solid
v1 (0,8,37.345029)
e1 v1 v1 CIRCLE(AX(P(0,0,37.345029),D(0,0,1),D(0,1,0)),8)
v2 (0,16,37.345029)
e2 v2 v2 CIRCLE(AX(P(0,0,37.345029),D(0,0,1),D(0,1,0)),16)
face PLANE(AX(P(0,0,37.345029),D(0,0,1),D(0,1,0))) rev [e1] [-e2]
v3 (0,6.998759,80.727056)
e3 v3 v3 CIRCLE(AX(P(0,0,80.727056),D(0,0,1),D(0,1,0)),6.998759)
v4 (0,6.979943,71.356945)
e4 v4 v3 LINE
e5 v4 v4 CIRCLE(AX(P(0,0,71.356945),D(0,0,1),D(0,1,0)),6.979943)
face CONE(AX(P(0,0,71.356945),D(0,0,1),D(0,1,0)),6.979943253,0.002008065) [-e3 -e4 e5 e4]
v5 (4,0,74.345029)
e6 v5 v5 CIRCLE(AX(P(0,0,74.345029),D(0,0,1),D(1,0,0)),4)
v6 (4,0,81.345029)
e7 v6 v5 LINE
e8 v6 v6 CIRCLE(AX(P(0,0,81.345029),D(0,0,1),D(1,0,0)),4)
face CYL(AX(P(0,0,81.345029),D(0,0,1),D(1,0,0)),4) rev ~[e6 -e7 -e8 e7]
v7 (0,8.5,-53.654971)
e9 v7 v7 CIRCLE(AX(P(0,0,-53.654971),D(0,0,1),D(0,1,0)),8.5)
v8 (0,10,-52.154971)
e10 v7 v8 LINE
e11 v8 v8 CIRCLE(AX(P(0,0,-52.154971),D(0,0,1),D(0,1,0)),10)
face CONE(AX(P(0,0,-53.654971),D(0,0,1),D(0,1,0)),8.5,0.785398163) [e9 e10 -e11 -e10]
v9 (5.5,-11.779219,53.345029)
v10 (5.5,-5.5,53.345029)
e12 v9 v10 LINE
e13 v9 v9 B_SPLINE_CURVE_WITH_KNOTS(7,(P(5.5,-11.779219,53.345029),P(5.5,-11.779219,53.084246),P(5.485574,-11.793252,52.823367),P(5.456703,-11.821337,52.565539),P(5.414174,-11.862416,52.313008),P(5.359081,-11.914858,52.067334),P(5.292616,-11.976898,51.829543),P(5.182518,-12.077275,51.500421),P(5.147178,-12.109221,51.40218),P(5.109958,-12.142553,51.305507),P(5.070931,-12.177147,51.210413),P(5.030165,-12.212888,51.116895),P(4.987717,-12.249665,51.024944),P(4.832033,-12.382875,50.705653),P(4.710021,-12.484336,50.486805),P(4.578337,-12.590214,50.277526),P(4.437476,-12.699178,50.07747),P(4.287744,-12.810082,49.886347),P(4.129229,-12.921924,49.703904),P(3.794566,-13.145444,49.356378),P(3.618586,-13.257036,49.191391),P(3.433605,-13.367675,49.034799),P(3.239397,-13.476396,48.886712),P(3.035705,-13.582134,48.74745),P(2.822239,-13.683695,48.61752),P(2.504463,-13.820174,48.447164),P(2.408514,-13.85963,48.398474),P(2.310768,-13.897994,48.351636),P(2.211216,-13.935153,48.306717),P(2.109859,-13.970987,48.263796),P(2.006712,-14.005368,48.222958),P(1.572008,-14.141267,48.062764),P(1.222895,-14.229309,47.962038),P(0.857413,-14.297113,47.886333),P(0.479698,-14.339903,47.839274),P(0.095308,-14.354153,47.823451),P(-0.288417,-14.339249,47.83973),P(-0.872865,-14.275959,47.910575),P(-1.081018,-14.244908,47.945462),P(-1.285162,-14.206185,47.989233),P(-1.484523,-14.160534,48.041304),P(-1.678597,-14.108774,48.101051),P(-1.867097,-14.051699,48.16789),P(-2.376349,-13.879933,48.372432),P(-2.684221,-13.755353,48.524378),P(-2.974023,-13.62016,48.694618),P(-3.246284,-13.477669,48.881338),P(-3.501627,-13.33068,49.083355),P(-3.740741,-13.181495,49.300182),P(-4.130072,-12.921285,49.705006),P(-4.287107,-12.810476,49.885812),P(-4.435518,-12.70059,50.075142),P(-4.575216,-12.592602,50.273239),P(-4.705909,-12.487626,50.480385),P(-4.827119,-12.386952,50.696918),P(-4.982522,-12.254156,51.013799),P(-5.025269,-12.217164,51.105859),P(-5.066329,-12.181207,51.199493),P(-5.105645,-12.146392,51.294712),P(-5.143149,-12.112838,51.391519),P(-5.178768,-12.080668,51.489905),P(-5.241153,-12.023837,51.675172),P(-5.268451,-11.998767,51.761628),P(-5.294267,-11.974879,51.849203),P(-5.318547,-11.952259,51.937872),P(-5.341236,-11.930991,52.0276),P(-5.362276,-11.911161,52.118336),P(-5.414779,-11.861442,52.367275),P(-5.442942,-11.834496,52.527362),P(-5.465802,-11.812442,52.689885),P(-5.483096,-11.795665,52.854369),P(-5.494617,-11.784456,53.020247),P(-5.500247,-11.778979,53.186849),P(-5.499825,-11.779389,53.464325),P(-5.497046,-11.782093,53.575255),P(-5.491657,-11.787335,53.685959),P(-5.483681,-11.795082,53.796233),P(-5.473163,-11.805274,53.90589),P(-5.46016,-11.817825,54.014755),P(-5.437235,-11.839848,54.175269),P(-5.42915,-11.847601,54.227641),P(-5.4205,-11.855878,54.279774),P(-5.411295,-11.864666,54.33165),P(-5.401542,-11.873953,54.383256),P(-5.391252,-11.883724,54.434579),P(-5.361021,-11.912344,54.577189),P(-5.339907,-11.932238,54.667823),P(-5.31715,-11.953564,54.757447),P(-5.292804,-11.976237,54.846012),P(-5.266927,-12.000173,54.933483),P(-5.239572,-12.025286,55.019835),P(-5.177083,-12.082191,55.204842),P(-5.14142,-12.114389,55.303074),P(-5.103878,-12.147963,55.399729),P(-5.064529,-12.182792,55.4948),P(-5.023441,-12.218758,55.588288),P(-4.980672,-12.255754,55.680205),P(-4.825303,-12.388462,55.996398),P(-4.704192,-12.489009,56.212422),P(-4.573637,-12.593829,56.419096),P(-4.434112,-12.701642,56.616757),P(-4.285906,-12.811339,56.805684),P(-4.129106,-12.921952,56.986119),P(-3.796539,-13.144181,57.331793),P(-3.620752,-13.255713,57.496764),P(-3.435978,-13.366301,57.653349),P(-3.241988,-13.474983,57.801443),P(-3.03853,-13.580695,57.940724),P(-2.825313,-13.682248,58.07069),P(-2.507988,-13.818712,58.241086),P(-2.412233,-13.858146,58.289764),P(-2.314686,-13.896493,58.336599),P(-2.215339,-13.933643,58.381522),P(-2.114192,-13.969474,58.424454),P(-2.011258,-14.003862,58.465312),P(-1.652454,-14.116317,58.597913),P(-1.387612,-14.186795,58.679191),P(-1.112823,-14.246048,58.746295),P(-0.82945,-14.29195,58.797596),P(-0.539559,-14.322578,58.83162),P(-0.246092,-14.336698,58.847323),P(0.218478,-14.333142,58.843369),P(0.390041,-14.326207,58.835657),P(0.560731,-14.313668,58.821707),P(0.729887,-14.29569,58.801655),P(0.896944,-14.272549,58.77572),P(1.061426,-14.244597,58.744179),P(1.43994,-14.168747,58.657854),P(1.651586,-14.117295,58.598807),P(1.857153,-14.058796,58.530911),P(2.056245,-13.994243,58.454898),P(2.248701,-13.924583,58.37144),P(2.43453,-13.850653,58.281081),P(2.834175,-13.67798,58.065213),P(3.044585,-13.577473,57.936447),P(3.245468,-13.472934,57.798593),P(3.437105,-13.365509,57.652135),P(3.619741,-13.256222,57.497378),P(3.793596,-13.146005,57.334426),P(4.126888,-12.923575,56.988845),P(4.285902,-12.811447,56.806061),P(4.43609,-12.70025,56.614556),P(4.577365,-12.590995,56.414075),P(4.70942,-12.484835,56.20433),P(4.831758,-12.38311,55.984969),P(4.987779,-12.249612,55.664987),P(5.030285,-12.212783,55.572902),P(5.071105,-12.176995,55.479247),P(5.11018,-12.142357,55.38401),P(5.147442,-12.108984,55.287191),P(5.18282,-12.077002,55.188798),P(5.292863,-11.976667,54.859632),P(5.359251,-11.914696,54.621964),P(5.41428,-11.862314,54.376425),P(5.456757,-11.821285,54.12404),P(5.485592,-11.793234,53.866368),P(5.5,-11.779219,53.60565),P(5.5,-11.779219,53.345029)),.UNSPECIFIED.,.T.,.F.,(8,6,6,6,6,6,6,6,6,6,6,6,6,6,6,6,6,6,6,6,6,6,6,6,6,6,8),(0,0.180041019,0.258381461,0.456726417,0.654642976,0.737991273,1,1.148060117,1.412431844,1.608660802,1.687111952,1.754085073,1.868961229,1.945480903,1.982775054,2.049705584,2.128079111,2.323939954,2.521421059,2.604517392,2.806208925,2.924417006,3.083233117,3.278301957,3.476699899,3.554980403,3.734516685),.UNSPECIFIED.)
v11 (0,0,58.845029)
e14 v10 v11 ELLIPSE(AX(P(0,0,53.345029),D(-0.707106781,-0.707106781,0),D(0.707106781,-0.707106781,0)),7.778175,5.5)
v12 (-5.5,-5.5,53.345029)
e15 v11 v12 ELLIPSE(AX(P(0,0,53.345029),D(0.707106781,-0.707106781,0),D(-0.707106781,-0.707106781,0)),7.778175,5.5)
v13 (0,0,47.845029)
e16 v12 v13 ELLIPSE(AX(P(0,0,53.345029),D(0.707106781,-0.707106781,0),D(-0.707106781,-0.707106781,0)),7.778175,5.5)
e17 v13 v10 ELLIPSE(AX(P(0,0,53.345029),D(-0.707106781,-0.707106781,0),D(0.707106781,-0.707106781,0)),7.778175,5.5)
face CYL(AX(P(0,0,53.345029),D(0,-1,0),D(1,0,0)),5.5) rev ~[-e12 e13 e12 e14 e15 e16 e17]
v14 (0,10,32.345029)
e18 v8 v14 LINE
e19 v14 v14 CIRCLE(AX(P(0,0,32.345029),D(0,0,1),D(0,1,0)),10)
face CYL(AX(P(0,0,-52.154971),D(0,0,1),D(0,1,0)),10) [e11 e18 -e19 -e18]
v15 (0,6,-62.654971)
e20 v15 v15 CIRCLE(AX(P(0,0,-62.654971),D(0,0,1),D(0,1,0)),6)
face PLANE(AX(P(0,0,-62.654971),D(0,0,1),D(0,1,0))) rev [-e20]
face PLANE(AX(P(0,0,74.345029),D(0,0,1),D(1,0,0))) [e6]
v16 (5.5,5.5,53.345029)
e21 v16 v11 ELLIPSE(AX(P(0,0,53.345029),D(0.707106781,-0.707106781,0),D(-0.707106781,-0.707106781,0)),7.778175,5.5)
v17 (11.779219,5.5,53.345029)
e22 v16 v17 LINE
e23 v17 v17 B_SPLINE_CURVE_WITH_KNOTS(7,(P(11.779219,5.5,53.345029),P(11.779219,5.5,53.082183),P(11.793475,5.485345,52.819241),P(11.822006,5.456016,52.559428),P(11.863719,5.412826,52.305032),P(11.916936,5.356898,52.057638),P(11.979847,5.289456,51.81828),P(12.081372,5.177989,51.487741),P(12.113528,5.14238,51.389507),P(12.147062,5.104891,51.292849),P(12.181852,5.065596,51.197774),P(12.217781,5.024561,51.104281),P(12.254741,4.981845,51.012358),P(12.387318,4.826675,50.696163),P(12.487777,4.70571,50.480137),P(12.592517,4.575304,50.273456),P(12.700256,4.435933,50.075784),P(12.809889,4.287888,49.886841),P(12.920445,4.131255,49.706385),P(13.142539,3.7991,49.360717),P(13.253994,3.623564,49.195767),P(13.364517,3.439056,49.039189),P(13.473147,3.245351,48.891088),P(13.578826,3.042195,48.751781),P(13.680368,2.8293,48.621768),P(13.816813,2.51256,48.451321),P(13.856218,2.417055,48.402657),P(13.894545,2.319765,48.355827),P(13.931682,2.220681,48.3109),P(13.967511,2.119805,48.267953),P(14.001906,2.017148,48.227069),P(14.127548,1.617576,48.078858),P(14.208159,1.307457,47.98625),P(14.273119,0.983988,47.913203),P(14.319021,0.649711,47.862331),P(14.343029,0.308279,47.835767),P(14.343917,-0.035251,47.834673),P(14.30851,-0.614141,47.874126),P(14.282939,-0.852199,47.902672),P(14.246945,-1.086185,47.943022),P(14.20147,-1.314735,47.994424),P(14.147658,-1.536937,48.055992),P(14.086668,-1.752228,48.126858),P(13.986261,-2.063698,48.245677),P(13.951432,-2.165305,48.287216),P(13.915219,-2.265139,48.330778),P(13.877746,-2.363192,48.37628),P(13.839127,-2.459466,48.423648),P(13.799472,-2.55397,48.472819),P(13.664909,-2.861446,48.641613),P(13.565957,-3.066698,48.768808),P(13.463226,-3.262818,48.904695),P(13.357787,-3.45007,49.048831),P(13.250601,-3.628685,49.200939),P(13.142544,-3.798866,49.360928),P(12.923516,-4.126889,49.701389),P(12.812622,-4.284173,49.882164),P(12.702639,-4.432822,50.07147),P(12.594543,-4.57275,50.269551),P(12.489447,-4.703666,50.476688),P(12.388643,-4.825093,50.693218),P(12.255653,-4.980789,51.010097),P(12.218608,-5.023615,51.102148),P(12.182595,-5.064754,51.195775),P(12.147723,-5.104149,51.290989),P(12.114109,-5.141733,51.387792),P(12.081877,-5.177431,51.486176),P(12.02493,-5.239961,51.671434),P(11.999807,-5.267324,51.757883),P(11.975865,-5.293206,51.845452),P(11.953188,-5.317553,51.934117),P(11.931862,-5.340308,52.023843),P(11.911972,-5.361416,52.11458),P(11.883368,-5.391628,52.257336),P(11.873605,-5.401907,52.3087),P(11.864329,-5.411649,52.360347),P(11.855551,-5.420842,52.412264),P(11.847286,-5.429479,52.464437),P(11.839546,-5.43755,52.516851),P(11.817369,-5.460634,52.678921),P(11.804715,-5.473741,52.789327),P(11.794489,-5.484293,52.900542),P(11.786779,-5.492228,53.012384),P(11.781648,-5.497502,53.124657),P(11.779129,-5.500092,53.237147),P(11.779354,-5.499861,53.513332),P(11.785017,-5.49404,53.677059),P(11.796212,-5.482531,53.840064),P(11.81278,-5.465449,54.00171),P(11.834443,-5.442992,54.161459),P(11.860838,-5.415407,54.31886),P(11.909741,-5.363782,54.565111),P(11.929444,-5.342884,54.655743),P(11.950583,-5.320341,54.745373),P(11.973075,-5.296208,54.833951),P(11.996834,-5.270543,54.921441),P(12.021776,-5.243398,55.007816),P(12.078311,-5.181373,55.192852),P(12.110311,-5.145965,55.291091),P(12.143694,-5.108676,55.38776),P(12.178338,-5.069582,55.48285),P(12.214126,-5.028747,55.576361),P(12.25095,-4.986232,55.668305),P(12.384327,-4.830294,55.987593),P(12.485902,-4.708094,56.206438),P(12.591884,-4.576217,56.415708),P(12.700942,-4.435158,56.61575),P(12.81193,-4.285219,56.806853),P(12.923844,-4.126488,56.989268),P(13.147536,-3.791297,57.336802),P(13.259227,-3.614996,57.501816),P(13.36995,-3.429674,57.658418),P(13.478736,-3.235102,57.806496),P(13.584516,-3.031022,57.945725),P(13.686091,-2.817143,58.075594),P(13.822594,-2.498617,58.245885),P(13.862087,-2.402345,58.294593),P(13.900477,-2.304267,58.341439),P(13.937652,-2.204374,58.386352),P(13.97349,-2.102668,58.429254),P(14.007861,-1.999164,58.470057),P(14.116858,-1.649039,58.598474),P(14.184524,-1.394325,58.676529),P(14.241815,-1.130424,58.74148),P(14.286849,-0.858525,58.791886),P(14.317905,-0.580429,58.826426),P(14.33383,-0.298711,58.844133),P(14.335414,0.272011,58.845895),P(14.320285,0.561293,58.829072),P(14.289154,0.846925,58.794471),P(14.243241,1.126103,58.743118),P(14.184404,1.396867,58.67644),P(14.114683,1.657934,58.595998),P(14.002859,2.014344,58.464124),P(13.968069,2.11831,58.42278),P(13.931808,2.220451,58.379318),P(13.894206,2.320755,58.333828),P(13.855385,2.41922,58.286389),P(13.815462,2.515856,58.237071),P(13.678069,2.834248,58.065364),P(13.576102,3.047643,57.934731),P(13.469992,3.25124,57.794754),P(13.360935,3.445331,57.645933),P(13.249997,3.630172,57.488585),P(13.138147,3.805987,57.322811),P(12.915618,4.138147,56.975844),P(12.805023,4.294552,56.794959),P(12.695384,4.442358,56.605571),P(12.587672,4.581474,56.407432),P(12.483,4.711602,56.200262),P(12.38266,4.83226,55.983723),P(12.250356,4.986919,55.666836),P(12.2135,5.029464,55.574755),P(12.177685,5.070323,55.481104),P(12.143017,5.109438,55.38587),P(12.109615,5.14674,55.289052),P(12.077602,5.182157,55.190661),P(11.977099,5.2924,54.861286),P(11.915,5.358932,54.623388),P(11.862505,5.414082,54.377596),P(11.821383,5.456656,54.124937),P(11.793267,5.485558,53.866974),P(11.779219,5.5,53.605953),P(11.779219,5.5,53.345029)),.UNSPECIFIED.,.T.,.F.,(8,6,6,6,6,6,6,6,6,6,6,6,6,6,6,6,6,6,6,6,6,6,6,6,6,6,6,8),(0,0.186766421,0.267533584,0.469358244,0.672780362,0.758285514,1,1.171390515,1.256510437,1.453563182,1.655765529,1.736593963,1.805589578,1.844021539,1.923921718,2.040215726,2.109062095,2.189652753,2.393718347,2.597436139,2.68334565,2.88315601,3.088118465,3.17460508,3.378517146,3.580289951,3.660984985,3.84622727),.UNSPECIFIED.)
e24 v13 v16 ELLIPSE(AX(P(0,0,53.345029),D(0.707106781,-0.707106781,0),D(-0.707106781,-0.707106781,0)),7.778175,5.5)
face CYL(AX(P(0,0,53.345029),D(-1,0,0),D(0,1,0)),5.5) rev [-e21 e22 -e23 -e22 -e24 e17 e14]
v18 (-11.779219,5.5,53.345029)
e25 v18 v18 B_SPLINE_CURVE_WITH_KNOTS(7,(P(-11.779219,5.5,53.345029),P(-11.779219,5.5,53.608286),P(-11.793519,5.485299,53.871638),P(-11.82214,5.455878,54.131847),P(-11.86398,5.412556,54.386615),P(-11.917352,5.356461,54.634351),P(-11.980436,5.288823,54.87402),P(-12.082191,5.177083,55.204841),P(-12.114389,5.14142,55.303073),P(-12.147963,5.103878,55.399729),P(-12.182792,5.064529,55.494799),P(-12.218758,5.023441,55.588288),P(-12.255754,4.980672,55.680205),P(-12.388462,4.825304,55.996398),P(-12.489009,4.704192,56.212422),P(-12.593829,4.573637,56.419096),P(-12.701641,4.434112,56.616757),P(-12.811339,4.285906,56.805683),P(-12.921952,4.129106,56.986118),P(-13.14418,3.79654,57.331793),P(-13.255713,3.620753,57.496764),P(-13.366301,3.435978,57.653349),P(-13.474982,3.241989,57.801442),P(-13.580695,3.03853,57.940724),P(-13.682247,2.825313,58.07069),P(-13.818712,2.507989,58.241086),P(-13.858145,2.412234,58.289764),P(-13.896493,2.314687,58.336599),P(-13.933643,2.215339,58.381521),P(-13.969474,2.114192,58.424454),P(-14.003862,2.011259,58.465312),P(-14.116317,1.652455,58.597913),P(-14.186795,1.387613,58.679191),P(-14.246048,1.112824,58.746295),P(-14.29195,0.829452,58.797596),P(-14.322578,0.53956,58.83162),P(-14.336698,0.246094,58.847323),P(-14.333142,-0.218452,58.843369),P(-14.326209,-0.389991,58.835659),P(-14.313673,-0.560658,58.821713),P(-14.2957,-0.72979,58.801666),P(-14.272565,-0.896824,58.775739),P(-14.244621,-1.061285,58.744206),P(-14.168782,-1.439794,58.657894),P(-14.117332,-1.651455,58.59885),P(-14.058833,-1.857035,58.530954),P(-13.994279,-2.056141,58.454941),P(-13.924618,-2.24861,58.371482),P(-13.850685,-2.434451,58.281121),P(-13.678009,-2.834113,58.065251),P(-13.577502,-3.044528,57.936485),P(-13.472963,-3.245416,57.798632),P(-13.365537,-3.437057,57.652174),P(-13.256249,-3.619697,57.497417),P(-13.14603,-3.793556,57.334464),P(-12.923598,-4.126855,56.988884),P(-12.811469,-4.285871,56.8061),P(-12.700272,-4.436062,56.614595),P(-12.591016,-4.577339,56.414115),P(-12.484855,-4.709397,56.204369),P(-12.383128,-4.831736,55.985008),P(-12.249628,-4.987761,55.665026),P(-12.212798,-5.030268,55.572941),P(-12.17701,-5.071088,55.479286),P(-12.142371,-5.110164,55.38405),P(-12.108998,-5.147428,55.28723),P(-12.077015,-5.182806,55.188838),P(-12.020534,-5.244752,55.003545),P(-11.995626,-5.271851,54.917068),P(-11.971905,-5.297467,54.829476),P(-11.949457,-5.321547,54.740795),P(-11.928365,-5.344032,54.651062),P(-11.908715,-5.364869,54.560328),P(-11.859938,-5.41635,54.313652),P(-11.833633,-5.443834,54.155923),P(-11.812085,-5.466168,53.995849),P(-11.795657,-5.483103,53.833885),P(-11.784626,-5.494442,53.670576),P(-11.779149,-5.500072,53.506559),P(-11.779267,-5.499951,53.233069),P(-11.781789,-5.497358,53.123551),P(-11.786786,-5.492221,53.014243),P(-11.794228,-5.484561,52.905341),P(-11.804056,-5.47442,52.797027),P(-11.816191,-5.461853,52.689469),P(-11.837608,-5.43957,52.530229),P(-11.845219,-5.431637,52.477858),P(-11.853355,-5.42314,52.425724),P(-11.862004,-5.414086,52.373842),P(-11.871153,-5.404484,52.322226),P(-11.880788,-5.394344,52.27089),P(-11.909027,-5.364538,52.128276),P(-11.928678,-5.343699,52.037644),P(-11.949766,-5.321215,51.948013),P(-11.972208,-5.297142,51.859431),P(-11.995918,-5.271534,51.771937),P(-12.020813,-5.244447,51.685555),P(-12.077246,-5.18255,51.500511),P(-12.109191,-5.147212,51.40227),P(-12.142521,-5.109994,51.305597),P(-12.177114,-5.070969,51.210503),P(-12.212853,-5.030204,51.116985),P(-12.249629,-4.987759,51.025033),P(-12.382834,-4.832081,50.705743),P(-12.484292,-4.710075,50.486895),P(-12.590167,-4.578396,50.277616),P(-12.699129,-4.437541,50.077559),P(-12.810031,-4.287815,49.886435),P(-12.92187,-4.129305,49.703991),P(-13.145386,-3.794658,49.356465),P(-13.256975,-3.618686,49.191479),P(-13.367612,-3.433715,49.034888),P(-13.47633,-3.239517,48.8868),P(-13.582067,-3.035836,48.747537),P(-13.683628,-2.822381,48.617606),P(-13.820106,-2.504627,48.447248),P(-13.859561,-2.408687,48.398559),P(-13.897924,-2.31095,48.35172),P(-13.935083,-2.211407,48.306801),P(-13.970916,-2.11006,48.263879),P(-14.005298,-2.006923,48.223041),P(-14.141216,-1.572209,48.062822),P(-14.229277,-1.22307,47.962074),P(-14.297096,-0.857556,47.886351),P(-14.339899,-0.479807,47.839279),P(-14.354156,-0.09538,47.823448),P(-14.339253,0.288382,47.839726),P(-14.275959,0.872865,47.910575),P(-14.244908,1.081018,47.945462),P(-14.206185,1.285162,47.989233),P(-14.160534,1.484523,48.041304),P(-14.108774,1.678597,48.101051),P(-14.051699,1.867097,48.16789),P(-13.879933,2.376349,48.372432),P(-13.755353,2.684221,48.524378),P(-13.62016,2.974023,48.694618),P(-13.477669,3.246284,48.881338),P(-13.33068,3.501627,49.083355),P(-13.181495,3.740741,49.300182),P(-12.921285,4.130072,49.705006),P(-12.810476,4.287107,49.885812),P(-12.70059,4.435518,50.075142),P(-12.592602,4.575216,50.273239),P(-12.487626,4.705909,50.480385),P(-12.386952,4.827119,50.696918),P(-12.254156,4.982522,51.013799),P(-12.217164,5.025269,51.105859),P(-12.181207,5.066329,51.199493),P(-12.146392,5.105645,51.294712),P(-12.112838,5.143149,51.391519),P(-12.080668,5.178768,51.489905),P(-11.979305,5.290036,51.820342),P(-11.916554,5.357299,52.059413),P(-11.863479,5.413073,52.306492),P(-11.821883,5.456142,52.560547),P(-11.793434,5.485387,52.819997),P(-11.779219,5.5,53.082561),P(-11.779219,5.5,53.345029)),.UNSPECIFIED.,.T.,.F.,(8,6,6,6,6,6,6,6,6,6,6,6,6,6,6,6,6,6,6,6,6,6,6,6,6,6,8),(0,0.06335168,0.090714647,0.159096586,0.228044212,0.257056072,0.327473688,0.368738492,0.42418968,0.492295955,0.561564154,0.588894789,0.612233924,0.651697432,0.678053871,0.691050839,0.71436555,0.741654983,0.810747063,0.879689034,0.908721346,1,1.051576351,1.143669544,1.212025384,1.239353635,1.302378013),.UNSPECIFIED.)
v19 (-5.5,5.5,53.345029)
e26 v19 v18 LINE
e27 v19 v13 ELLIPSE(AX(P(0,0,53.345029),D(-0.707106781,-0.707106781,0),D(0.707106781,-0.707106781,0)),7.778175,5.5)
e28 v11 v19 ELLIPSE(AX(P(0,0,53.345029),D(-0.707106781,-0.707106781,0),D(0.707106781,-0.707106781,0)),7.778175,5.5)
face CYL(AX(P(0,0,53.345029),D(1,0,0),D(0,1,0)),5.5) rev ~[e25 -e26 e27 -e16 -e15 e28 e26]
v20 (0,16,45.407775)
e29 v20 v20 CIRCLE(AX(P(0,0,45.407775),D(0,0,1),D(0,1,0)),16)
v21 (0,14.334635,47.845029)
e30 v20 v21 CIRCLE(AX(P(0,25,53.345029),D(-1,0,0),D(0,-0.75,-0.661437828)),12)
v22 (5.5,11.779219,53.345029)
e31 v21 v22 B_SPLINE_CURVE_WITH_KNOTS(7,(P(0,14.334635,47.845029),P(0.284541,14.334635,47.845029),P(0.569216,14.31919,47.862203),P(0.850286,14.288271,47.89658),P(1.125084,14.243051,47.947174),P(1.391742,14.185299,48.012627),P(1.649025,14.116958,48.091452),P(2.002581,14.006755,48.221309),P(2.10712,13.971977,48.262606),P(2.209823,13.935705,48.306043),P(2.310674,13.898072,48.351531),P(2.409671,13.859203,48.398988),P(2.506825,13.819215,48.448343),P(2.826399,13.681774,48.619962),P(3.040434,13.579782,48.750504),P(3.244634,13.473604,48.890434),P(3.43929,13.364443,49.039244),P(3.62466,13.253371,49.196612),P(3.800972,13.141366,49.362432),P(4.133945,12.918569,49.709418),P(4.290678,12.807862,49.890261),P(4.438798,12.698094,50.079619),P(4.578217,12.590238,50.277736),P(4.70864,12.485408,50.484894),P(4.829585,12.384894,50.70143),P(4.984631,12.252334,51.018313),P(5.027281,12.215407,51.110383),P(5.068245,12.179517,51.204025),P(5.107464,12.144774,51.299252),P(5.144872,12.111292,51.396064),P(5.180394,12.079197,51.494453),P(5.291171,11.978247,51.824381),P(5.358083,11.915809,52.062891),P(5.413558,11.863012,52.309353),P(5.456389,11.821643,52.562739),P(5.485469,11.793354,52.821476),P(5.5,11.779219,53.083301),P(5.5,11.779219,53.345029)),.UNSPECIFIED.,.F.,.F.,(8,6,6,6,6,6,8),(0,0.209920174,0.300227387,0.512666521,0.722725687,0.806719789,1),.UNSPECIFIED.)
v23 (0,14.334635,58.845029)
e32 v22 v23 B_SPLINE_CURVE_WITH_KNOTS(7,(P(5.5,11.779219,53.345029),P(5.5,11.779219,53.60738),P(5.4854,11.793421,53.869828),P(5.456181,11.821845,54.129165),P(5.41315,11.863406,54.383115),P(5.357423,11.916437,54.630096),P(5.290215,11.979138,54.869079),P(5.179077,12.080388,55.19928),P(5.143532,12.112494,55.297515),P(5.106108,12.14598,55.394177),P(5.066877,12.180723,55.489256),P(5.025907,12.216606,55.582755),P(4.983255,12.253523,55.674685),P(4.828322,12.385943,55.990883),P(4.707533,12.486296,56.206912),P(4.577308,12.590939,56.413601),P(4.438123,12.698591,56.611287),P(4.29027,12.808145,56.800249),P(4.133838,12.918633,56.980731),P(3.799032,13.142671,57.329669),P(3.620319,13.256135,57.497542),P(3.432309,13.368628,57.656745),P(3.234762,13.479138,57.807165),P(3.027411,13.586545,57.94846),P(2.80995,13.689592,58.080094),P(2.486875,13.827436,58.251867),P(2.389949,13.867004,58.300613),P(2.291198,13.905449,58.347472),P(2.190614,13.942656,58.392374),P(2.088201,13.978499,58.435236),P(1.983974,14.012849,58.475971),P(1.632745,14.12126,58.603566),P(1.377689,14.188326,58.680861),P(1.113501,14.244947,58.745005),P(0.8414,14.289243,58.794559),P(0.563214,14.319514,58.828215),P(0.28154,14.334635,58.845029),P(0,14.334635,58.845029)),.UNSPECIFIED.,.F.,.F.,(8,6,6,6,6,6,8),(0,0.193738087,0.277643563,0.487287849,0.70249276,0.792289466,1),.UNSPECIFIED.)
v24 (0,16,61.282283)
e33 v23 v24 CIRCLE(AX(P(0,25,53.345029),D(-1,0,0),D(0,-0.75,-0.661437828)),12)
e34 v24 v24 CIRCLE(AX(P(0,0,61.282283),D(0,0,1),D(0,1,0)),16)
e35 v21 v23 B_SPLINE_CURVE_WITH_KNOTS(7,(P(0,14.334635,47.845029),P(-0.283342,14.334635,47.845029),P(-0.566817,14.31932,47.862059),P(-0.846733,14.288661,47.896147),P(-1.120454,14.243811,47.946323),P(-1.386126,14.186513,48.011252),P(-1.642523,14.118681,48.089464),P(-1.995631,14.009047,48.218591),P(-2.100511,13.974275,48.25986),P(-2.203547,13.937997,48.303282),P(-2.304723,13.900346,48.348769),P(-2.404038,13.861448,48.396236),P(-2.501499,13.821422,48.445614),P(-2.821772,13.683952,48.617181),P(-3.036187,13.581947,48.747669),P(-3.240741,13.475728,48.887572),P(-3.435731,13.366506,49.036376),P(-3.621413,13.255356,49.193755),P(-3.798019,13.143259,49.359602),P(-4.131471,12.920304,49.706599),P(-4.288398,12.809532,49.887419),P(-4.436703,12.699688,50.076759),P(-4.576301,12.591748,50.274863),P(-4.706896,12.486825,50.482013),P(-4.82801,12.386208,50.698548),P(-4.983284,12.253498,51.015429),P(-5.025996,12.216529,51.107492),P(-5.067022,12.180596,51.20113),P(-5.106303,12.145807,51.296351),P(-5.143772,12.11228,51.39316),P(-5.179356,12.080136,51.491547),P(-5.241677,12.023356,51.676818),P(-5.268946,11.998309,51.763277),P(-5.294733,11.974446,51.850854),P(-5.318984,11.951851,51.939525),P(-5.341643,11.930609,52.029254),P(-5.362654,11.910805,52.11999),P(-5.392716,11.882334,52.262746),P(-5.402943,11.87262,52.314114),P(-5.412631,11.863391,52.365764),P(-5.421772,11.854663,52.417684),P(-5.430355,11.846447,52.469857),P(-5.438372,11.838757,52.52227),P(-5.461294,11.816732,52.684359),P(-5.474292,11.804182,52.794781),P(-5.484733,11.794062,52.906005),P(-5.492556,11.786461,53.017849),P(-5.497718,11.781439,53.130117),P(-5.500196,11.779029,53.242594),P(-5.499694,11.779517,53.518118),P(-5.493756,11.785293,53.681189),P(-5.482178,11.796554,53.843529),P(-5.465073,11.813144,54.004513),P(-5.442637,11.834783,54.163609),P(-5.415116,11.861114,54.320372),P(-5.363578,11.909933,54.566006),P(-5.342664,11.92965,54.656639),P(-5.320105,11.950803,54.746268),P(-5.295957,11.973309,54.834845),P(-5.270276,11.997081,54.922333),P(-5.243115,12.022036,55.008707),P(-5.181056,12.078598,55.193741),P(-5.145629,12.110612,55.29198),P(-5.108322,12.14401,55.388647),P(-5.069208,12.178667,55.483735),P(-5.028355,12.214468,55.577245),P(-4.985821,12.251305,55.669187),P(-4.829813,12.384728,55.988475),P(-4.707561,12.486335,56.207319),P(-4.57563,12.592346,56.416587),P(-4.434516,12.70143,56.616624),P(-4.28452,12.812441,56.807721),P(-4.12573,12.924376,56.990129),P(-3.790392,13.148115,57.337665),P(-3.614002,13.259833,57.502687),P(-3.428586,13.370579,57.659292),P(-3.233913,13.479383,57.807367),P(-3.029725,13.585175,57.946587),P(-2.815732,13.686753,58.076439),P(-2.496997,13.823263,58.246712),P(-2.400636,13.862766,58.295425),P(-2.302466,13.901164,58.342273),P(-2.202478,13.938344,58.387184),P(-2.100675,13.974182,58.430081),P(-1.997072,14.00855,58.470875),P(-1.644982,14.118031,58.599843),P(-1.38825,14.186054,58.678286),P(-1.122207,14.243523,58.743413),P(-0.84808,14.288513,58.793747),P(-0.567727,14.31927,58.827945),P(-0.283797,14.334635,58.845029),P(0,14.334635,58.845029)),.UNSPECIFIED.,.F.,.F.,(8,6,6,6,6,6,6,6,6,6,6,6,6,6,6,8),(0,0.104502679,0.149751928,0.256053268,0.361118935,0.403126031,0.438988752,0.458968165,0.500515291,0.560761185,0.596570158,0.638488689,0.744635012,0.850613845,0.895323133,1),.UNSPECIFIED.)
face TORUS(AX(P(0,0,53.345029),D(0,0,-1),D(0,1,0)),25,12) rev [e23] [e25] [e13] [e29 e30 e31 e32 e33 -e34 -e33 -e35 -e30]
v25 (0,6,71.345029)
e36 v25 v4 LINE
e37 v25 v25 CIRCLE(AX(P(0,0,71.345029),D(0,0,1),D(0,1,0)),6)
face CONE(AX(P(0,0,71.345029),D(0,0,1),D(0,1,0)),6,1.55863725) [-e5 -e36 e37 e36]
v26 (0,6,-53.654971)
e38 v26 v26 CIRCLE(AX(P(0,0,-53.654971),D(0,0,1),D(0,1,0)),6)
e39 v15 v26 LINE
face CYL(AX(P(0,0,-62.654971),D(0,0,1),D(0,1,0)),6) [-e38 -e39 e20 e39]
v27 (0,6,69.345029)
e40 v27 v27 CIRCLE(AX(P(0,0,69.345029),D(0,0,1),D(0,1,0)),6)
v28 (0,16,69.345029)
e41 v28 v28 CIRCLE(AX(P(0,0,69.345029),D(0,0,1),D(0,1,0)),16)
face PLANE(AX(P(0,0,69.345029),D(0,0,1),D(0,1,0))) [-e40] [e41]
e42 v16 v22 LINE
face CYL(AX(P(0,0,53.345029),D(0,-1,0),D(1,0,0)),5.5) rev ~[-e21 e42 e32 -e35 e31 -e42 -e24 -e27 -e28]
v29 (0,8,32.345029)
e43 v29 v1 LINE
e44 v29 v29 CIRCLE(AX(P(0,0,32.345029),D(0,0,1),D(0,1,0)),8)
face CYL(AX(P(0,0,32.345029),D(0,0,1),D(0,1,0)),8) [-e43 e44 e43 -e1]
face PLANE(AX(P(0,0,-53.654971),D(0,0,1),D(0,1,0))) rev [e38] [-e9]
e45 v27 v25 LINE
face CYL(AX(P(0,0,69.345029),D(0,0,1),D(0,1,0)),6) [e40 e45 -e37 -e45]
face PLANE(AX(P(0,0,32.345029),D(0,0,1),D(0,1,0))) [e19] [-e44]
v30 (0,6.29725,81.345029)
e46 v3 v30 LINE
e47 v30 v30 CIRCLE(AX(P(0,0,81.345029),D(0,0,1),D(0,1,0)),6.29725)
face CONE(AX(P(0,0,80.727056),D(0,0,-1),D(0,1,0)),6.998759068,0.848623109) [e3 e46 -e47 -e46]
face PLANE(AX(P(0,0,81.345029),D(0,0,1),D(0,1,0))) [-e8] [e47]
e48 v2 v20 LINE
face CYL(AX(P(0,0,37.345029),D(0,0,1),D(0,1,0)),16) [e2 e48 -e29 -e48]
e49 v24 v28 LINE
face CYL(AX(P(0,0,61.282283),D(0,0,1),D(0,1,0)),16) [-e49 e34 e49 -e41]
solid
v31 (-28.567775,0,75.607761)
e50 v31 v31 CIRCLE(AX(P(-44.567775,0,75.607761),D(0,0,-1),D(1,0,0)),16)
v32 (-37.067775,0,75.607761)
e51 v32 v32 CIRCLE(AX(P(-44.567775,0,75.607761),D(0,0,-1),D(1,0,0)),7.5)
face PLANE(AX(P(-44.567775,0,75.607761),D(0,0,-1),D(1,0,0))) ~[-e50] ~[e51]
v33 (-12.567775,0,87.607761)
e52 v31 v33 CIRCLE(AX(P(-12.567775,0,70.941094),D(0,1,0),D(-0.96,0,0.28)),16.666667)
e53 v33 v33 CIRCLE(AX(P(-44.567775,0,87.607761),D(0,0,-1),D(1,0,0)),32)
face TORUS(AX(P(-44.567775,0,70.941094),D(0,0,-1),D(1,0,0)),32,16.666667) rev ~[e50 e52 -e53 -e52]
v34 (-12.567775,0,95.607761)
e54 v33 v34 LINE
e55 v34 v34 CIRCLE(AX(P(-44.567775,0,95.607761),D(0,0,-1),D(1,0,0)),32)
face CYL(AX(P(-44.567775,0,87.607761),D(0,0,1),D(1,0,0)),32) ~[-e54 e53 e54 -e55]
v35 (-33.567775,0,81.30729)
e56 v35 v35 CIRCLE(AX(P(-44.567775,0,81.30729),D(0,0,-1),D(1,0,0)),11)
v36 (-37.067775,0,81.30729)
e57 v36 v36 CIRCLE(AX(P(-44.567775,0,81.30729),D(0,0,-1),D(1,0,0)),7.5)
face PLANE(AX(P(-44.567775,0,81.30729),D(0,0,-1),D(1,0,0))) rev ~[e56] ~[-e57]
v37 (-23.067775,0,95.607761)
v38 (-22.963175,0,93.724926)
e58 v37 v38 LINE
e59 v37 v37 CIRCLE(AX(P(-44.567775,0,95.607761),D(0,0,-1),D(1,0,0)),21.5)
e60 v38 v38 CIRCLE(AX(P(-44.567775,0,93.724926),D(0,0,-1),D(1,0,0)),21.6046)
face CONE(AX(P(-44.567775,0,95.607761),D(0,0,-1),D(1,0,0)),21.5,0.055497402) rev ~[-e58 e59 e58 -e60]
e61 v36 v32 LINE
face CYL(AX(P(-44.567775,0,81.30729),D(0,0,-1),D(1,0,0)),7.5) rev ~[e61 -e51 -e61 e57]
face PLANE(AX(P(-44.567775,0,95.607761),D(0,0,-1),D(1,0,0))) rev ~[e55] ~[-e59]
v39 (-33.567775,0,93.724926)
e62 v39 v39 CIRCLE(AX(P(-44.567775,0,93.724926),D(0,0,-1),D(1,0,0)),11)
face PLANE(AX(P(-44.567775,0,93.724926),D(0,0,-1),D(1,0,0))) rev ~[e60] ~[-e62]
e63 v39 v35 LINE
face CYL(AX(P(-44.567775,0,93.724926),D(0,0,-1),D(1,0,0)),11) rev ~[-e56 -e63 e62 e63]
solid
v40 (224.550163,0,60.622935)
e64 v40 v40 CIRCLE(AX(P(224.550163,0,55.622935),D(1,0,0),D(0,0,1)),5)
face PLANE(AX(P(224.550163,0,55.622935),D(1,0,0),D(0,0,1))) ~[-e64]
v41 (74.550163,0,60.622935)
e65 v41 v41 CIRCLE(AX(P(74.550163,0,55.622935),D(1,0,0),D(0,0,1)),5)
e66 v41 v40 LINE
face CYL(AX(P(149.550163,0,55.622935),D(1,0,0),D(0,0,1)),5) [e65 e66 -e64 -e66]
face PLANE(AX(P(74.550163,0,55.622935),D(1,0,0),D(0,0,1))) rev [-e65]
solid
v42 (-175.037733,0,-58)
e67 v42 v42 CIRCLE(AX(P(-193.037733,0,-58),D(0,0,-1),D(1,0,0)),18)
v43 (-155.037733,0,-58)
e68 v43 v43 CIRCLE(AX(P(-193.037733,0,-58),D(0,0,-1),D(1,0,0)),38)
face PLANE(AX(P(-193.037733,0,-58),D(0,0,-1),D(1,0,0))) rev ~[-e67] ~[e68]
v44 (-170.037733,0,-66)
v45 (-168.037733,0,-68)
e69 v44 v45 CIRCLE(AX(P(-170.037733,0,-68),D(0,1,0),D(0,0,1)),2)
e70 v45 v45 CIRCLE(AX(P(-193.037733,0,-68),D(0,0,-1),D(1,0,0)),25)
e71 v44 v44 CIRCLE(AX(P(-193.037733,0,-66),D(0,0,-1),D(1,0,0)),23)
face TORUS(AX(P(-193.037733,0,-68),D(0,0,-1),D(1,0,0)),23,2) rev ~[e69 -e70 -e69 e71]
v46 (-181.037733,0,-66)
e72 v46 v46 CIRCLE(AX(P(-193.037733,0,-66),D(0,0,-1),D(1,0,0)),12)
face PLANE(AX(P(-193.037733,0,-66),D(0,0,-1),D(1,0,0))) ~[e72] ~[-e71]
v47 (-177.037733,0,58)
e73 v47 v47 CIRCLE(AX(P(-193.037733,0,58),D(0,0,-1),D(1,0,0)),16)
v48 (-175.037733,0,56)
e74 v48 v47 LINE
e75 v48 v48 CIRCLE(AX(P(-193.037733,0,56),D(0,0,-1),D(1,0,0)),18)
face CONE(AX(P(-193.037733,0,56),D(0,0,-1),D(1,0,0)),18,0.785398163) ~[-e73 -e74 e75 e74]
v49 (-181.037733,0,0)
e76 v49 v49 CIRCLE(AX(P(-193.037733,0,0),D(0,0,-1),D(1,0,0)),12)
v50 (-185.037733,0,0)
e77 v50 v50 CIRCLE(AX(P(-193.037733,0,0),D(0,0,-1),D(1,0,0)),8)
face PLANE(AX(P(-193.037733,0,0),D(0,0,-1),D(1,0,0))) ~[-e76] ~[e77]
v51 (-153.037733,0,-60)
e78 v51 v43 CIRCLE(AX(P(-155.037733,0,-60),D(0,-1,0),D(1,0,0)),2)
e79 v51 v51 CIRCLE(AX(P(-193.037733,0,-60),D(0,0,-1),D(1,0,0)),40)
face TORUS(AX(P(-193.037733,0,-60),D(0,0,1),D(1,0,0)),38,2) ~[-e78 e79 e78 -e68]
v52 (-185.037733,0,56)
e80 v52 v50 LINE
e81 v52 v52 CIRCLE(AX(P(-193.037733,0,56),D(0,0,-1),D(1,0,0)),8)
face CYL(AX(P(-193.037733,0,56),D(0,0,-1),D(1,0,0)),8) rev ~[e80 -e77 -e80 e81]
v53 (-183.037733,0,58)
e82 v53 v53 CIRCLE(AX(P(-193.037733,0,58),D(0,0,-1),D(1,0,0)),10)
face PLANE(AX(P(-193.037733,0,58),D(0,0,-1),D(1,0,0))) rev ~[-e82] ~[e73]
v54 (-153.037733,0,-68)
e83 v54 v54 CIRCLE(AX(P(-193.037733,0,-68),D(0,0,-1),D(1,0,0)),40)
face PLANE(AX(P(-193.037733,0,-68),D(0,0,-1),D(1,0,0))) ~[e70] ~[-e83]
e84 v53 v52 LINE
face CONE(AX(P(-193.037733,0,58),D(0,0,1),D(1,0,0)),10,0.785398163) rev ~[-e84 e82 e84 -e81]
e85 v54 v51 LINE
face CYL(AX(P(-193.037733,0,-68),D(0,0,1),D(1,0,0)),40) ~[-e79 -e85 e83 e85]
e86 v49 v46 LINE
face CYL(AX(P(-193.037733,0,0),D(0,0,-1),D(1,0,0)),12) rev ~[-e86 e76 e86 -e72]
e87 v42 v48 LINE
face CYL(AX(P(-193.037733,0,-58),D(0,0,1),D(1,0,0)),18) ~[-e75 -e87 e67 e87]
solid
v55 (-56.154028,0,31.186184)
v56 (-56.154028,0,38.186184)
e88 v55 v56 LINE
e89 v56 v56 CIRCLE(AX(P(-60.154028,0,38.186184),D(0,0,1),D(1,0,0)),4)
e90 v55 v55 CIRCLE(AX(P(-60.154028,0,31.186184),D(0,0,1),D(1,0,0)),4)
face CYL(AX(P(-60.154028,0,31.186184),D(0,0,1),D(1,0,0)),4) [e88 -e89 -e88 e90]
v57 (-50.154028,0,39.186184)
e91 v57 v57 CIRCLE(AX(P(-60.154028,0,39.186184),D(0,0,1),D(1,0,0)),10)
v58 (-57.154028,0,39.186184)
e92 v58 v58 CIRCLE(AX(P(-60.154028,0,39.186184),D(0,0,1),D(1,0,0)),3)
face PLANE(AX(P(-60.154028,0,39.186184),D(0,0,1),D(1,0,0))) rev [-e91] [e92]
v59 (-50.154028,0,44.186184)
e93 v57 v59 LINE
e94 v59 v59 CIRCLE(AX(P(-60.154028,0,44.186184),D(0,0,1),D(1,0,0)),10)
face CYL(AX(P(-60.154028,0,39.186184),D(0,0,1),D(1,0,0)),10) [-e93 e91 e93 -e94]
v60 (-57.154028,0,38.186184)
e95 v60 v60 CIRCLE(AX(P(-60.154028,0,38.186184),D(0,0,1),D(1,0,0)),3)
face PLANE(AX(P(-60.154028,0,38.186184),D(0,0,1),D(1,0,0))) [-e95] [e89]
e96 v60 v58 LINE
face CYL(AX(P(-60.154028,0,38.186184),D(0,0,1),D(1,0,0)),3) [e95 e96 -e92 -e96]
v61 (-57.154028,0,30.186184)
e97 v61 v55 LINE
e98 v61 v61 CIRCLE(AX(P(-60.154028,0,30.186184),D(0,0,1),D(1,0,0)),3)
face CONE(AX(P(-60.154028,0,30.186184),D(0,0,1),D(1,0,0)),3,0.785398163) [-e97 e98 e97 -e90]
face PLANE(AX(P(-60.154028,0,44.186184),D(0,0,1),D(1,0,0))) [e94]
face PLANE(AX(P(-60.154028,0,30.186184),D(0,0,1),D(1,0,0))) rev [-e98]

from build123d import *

# Parameters (mm, degrees)
F2_R          = 5.5
F3_DEPTH      = 25.4
F3_DEPTH_BACK = 25.4
F4_R          = 5.5
F5_DEPTH      = 25.4
F5_DEPTH_BACK = 25.4
F6_W          = 150
F6_H          = 5
F12_R         = 4
F13_DEPTH     = 7


with BuildPart() as f1:
    # F0 (on Right) → F1 (revolve)
    with BuildSketch(Plane.YZ):
        with BuildLine():
            Line((0, 81.3450289474), (0, -62.6549710526))
            Line((0, -62.6549710526), (6, -62.6549710526))
            Line((6, -62.6549710526), (6, -53.6549710526))
            Line((6, -53.6549710526), (8.5, -53.6549710526))
            Line((8.5, -53.6549710526), (10, -52.1549710526))
            Line((10, -52.1549710526), (10, 32.3450289474))
            Line((10, 32.3450289474), (8, 32.3450289474))
            Line((8, 32.3450289474), (8, 37.3450289474))
            Line((8, 37.3450289474), (16, 37.3450289474))
            Line((16, 37.3450289474), (16, 45.4077750142))
            ThreePointArc((16, 45.4077750142), (13, 53.3450289474), (16, 61.2822828806))
            Line((16, 61.2822828806), (16, 69.3450289474))
            Line((16, 69.3450289474), (6, 69.3450289474))
            Line((6, 69.3450289474), (6, 71.3450289474))
            Line((6, 71.3450289474), (6.9799432531, 71.3569447398))
            Line((6.9799432531, 71.3569447398), (6.998759068, 80.7270556765))
            Line((6.998759068, 80.7270556765), (6.2972502783, 81.3450289474))
            Line((6.2972502783, 81.3450289474), (0, 81.3450289474))
        make_face()
    revolve(axis=Axis((0, 0, 9.3450289474), (0, 0, 1)))

    # F2 (on Front) → F3 (cut, two sides)
    with BuildSketch(Plane.XZ) as f3_sk:
        with Locations((0, 53.3450289474)):
            Circle(F2_R)
    extrude(amount=-F3_DEPTH, mode=Mode.SUBTRACT)
    extrude(f3_sk.sketch, amount=F3_DEPTH_BACK, mode=Mode.SUBTRACT)

    # F4 (on Right) → F5 (cut, two sides)
    with BuildSketch(Plane.YZ) as f5_sk:
        with Locations((0, 53.3450289474)):
            Circle(F4_R)
    extrude(amount=F5_DEPTH, mode=Mode.SUBTRACT)
    extrude(f5_sk.sketch, amount=-F5_DEPTH_BACK, mode=Mode.SUBTRACT)

    # F12 (on face) → F13 (cut)
    with BuildSketch(Plane.XY.offset(81.3450289474)):
        Circle(F12_R)
    extrude(amount=-F13_DEPTH, mode=Mode.SUBTRACT)


with BuildPart() as f7:
    # F6 (on Front) → F7 (revolve)
    with BuildSketch(Plane.XZ):
        with Locations((149.5501628326, 58.1229347736)):
            Rectangle(F6_W, F6_H)
    revolve(axis=Axis((149.5501628326, 0, 55.6229347736), (1, 0, 0)))


with BuildPart() as f9:
    # F8 (on Front) → F9 (revolve)
    with BuildSketch(Plane.XZ):
        Polygon((-50.1540284604, 44.1861839128), (-60.1540284604, 44.1861839128), (-60.1540284604, 30.1861839128), (-57.1540284604, 30.1861839128), (-56.1540284604, 31.1861839128), (-56.1540284604, 38.1861839128), (-57.1540284604, 38.1861839128), (-57.1540284604, 39.1861839128), (-50.1540284604, 39.1861839128), align=None)
    revolve(axis=Axis((-60.1540284604, 0, 37.1861839128), (0, 0, 1)))


with BuildPart() as f11:
    # F10 (on Front) → F11 (revolve)
    with BuildSketch(Plane.XZ):
        with BuildLine():
            Line((-12.5677749813, 95.607760791), (-23.0677749813, 95.607760791))
            Line((-23.0677749813, 95.607760791), (-22.9631751254, 93.7249258811))
            Line((-22.9631751254, 93.7249258811), (-33.5677749813, 93.7249258811))
            Line((-33.5677749813, 93.7249258811), (-33.5677749813, 81.3072902979))
            Line((-33.5677749813, 81.3072902979), (-37.0677749813, 81.3072902979))
            Line((-37.0677749813, 81.3072902979), (-37.0677749813, 75.607760791))
            Line((-37.0677749813, 75.607760791), (-28.5677749813, 75.607760791))
            ThreePointArc((-28.5677749813, 75.607760791), (-22.5677749813, 84.2744274577), (-12.5677749813, 87.607760791))
            Line((-12.5677749813, 87.607760791), (-12.5677749813, 95.607760791))
        make_face()
    revolve(axis=Axis((-44.5677749813, 0, 80.2089683712), (0, 0, -1)))


with BuildPart() as f15:
    # F14 (on Front) → F15 (revolve)
    with BuildSketch(Plane.XZ):
        with BuildLine():
            Line((-175.0377334356, -58), (-175.0377334356, 56))
            Line((-175.0377334356, 56), (-177.0377334356, 58))
            Line((-177.0377334356, 58), (-183.0377334356, 58))
            Line((-183.0377334356, 58), (-185.0377334356, 56))
            Line((-185.0377334356, 56), (-185.0377334356, 0))
            Line((-185.0377334356, 0), (-181.0377334356, 0))
            Line((-181.0377334356, 0), (-181.0377334356, -66))
            Line((-181.0377334356, -66), (-170.0377334356, -66))
            ThreePointArc((-170.0377334356, -66), (-168.6235198733, -66.5857864376), (-168.0377334356, -68))
            Line((-168.0377334356, -68), (-153.0377334356, -68))
            Line((-153.0377334356, -68), (-153.0377334356, -60))
            ThreePointArc((-153.0377334356, -60), (-153.6235198733, -58.5857864376), (-155.0377334356, -58))
            Line((-155.0377334356, -58), (-175.0377334356, -58))
        make_face()
    revolve(axis=Axis((-193.0377334356, 0, -22.8708423674), (0, 0, -1)))


solid = Compound([f1.part, f7.part, f9.part, f11.part, f15.part])
